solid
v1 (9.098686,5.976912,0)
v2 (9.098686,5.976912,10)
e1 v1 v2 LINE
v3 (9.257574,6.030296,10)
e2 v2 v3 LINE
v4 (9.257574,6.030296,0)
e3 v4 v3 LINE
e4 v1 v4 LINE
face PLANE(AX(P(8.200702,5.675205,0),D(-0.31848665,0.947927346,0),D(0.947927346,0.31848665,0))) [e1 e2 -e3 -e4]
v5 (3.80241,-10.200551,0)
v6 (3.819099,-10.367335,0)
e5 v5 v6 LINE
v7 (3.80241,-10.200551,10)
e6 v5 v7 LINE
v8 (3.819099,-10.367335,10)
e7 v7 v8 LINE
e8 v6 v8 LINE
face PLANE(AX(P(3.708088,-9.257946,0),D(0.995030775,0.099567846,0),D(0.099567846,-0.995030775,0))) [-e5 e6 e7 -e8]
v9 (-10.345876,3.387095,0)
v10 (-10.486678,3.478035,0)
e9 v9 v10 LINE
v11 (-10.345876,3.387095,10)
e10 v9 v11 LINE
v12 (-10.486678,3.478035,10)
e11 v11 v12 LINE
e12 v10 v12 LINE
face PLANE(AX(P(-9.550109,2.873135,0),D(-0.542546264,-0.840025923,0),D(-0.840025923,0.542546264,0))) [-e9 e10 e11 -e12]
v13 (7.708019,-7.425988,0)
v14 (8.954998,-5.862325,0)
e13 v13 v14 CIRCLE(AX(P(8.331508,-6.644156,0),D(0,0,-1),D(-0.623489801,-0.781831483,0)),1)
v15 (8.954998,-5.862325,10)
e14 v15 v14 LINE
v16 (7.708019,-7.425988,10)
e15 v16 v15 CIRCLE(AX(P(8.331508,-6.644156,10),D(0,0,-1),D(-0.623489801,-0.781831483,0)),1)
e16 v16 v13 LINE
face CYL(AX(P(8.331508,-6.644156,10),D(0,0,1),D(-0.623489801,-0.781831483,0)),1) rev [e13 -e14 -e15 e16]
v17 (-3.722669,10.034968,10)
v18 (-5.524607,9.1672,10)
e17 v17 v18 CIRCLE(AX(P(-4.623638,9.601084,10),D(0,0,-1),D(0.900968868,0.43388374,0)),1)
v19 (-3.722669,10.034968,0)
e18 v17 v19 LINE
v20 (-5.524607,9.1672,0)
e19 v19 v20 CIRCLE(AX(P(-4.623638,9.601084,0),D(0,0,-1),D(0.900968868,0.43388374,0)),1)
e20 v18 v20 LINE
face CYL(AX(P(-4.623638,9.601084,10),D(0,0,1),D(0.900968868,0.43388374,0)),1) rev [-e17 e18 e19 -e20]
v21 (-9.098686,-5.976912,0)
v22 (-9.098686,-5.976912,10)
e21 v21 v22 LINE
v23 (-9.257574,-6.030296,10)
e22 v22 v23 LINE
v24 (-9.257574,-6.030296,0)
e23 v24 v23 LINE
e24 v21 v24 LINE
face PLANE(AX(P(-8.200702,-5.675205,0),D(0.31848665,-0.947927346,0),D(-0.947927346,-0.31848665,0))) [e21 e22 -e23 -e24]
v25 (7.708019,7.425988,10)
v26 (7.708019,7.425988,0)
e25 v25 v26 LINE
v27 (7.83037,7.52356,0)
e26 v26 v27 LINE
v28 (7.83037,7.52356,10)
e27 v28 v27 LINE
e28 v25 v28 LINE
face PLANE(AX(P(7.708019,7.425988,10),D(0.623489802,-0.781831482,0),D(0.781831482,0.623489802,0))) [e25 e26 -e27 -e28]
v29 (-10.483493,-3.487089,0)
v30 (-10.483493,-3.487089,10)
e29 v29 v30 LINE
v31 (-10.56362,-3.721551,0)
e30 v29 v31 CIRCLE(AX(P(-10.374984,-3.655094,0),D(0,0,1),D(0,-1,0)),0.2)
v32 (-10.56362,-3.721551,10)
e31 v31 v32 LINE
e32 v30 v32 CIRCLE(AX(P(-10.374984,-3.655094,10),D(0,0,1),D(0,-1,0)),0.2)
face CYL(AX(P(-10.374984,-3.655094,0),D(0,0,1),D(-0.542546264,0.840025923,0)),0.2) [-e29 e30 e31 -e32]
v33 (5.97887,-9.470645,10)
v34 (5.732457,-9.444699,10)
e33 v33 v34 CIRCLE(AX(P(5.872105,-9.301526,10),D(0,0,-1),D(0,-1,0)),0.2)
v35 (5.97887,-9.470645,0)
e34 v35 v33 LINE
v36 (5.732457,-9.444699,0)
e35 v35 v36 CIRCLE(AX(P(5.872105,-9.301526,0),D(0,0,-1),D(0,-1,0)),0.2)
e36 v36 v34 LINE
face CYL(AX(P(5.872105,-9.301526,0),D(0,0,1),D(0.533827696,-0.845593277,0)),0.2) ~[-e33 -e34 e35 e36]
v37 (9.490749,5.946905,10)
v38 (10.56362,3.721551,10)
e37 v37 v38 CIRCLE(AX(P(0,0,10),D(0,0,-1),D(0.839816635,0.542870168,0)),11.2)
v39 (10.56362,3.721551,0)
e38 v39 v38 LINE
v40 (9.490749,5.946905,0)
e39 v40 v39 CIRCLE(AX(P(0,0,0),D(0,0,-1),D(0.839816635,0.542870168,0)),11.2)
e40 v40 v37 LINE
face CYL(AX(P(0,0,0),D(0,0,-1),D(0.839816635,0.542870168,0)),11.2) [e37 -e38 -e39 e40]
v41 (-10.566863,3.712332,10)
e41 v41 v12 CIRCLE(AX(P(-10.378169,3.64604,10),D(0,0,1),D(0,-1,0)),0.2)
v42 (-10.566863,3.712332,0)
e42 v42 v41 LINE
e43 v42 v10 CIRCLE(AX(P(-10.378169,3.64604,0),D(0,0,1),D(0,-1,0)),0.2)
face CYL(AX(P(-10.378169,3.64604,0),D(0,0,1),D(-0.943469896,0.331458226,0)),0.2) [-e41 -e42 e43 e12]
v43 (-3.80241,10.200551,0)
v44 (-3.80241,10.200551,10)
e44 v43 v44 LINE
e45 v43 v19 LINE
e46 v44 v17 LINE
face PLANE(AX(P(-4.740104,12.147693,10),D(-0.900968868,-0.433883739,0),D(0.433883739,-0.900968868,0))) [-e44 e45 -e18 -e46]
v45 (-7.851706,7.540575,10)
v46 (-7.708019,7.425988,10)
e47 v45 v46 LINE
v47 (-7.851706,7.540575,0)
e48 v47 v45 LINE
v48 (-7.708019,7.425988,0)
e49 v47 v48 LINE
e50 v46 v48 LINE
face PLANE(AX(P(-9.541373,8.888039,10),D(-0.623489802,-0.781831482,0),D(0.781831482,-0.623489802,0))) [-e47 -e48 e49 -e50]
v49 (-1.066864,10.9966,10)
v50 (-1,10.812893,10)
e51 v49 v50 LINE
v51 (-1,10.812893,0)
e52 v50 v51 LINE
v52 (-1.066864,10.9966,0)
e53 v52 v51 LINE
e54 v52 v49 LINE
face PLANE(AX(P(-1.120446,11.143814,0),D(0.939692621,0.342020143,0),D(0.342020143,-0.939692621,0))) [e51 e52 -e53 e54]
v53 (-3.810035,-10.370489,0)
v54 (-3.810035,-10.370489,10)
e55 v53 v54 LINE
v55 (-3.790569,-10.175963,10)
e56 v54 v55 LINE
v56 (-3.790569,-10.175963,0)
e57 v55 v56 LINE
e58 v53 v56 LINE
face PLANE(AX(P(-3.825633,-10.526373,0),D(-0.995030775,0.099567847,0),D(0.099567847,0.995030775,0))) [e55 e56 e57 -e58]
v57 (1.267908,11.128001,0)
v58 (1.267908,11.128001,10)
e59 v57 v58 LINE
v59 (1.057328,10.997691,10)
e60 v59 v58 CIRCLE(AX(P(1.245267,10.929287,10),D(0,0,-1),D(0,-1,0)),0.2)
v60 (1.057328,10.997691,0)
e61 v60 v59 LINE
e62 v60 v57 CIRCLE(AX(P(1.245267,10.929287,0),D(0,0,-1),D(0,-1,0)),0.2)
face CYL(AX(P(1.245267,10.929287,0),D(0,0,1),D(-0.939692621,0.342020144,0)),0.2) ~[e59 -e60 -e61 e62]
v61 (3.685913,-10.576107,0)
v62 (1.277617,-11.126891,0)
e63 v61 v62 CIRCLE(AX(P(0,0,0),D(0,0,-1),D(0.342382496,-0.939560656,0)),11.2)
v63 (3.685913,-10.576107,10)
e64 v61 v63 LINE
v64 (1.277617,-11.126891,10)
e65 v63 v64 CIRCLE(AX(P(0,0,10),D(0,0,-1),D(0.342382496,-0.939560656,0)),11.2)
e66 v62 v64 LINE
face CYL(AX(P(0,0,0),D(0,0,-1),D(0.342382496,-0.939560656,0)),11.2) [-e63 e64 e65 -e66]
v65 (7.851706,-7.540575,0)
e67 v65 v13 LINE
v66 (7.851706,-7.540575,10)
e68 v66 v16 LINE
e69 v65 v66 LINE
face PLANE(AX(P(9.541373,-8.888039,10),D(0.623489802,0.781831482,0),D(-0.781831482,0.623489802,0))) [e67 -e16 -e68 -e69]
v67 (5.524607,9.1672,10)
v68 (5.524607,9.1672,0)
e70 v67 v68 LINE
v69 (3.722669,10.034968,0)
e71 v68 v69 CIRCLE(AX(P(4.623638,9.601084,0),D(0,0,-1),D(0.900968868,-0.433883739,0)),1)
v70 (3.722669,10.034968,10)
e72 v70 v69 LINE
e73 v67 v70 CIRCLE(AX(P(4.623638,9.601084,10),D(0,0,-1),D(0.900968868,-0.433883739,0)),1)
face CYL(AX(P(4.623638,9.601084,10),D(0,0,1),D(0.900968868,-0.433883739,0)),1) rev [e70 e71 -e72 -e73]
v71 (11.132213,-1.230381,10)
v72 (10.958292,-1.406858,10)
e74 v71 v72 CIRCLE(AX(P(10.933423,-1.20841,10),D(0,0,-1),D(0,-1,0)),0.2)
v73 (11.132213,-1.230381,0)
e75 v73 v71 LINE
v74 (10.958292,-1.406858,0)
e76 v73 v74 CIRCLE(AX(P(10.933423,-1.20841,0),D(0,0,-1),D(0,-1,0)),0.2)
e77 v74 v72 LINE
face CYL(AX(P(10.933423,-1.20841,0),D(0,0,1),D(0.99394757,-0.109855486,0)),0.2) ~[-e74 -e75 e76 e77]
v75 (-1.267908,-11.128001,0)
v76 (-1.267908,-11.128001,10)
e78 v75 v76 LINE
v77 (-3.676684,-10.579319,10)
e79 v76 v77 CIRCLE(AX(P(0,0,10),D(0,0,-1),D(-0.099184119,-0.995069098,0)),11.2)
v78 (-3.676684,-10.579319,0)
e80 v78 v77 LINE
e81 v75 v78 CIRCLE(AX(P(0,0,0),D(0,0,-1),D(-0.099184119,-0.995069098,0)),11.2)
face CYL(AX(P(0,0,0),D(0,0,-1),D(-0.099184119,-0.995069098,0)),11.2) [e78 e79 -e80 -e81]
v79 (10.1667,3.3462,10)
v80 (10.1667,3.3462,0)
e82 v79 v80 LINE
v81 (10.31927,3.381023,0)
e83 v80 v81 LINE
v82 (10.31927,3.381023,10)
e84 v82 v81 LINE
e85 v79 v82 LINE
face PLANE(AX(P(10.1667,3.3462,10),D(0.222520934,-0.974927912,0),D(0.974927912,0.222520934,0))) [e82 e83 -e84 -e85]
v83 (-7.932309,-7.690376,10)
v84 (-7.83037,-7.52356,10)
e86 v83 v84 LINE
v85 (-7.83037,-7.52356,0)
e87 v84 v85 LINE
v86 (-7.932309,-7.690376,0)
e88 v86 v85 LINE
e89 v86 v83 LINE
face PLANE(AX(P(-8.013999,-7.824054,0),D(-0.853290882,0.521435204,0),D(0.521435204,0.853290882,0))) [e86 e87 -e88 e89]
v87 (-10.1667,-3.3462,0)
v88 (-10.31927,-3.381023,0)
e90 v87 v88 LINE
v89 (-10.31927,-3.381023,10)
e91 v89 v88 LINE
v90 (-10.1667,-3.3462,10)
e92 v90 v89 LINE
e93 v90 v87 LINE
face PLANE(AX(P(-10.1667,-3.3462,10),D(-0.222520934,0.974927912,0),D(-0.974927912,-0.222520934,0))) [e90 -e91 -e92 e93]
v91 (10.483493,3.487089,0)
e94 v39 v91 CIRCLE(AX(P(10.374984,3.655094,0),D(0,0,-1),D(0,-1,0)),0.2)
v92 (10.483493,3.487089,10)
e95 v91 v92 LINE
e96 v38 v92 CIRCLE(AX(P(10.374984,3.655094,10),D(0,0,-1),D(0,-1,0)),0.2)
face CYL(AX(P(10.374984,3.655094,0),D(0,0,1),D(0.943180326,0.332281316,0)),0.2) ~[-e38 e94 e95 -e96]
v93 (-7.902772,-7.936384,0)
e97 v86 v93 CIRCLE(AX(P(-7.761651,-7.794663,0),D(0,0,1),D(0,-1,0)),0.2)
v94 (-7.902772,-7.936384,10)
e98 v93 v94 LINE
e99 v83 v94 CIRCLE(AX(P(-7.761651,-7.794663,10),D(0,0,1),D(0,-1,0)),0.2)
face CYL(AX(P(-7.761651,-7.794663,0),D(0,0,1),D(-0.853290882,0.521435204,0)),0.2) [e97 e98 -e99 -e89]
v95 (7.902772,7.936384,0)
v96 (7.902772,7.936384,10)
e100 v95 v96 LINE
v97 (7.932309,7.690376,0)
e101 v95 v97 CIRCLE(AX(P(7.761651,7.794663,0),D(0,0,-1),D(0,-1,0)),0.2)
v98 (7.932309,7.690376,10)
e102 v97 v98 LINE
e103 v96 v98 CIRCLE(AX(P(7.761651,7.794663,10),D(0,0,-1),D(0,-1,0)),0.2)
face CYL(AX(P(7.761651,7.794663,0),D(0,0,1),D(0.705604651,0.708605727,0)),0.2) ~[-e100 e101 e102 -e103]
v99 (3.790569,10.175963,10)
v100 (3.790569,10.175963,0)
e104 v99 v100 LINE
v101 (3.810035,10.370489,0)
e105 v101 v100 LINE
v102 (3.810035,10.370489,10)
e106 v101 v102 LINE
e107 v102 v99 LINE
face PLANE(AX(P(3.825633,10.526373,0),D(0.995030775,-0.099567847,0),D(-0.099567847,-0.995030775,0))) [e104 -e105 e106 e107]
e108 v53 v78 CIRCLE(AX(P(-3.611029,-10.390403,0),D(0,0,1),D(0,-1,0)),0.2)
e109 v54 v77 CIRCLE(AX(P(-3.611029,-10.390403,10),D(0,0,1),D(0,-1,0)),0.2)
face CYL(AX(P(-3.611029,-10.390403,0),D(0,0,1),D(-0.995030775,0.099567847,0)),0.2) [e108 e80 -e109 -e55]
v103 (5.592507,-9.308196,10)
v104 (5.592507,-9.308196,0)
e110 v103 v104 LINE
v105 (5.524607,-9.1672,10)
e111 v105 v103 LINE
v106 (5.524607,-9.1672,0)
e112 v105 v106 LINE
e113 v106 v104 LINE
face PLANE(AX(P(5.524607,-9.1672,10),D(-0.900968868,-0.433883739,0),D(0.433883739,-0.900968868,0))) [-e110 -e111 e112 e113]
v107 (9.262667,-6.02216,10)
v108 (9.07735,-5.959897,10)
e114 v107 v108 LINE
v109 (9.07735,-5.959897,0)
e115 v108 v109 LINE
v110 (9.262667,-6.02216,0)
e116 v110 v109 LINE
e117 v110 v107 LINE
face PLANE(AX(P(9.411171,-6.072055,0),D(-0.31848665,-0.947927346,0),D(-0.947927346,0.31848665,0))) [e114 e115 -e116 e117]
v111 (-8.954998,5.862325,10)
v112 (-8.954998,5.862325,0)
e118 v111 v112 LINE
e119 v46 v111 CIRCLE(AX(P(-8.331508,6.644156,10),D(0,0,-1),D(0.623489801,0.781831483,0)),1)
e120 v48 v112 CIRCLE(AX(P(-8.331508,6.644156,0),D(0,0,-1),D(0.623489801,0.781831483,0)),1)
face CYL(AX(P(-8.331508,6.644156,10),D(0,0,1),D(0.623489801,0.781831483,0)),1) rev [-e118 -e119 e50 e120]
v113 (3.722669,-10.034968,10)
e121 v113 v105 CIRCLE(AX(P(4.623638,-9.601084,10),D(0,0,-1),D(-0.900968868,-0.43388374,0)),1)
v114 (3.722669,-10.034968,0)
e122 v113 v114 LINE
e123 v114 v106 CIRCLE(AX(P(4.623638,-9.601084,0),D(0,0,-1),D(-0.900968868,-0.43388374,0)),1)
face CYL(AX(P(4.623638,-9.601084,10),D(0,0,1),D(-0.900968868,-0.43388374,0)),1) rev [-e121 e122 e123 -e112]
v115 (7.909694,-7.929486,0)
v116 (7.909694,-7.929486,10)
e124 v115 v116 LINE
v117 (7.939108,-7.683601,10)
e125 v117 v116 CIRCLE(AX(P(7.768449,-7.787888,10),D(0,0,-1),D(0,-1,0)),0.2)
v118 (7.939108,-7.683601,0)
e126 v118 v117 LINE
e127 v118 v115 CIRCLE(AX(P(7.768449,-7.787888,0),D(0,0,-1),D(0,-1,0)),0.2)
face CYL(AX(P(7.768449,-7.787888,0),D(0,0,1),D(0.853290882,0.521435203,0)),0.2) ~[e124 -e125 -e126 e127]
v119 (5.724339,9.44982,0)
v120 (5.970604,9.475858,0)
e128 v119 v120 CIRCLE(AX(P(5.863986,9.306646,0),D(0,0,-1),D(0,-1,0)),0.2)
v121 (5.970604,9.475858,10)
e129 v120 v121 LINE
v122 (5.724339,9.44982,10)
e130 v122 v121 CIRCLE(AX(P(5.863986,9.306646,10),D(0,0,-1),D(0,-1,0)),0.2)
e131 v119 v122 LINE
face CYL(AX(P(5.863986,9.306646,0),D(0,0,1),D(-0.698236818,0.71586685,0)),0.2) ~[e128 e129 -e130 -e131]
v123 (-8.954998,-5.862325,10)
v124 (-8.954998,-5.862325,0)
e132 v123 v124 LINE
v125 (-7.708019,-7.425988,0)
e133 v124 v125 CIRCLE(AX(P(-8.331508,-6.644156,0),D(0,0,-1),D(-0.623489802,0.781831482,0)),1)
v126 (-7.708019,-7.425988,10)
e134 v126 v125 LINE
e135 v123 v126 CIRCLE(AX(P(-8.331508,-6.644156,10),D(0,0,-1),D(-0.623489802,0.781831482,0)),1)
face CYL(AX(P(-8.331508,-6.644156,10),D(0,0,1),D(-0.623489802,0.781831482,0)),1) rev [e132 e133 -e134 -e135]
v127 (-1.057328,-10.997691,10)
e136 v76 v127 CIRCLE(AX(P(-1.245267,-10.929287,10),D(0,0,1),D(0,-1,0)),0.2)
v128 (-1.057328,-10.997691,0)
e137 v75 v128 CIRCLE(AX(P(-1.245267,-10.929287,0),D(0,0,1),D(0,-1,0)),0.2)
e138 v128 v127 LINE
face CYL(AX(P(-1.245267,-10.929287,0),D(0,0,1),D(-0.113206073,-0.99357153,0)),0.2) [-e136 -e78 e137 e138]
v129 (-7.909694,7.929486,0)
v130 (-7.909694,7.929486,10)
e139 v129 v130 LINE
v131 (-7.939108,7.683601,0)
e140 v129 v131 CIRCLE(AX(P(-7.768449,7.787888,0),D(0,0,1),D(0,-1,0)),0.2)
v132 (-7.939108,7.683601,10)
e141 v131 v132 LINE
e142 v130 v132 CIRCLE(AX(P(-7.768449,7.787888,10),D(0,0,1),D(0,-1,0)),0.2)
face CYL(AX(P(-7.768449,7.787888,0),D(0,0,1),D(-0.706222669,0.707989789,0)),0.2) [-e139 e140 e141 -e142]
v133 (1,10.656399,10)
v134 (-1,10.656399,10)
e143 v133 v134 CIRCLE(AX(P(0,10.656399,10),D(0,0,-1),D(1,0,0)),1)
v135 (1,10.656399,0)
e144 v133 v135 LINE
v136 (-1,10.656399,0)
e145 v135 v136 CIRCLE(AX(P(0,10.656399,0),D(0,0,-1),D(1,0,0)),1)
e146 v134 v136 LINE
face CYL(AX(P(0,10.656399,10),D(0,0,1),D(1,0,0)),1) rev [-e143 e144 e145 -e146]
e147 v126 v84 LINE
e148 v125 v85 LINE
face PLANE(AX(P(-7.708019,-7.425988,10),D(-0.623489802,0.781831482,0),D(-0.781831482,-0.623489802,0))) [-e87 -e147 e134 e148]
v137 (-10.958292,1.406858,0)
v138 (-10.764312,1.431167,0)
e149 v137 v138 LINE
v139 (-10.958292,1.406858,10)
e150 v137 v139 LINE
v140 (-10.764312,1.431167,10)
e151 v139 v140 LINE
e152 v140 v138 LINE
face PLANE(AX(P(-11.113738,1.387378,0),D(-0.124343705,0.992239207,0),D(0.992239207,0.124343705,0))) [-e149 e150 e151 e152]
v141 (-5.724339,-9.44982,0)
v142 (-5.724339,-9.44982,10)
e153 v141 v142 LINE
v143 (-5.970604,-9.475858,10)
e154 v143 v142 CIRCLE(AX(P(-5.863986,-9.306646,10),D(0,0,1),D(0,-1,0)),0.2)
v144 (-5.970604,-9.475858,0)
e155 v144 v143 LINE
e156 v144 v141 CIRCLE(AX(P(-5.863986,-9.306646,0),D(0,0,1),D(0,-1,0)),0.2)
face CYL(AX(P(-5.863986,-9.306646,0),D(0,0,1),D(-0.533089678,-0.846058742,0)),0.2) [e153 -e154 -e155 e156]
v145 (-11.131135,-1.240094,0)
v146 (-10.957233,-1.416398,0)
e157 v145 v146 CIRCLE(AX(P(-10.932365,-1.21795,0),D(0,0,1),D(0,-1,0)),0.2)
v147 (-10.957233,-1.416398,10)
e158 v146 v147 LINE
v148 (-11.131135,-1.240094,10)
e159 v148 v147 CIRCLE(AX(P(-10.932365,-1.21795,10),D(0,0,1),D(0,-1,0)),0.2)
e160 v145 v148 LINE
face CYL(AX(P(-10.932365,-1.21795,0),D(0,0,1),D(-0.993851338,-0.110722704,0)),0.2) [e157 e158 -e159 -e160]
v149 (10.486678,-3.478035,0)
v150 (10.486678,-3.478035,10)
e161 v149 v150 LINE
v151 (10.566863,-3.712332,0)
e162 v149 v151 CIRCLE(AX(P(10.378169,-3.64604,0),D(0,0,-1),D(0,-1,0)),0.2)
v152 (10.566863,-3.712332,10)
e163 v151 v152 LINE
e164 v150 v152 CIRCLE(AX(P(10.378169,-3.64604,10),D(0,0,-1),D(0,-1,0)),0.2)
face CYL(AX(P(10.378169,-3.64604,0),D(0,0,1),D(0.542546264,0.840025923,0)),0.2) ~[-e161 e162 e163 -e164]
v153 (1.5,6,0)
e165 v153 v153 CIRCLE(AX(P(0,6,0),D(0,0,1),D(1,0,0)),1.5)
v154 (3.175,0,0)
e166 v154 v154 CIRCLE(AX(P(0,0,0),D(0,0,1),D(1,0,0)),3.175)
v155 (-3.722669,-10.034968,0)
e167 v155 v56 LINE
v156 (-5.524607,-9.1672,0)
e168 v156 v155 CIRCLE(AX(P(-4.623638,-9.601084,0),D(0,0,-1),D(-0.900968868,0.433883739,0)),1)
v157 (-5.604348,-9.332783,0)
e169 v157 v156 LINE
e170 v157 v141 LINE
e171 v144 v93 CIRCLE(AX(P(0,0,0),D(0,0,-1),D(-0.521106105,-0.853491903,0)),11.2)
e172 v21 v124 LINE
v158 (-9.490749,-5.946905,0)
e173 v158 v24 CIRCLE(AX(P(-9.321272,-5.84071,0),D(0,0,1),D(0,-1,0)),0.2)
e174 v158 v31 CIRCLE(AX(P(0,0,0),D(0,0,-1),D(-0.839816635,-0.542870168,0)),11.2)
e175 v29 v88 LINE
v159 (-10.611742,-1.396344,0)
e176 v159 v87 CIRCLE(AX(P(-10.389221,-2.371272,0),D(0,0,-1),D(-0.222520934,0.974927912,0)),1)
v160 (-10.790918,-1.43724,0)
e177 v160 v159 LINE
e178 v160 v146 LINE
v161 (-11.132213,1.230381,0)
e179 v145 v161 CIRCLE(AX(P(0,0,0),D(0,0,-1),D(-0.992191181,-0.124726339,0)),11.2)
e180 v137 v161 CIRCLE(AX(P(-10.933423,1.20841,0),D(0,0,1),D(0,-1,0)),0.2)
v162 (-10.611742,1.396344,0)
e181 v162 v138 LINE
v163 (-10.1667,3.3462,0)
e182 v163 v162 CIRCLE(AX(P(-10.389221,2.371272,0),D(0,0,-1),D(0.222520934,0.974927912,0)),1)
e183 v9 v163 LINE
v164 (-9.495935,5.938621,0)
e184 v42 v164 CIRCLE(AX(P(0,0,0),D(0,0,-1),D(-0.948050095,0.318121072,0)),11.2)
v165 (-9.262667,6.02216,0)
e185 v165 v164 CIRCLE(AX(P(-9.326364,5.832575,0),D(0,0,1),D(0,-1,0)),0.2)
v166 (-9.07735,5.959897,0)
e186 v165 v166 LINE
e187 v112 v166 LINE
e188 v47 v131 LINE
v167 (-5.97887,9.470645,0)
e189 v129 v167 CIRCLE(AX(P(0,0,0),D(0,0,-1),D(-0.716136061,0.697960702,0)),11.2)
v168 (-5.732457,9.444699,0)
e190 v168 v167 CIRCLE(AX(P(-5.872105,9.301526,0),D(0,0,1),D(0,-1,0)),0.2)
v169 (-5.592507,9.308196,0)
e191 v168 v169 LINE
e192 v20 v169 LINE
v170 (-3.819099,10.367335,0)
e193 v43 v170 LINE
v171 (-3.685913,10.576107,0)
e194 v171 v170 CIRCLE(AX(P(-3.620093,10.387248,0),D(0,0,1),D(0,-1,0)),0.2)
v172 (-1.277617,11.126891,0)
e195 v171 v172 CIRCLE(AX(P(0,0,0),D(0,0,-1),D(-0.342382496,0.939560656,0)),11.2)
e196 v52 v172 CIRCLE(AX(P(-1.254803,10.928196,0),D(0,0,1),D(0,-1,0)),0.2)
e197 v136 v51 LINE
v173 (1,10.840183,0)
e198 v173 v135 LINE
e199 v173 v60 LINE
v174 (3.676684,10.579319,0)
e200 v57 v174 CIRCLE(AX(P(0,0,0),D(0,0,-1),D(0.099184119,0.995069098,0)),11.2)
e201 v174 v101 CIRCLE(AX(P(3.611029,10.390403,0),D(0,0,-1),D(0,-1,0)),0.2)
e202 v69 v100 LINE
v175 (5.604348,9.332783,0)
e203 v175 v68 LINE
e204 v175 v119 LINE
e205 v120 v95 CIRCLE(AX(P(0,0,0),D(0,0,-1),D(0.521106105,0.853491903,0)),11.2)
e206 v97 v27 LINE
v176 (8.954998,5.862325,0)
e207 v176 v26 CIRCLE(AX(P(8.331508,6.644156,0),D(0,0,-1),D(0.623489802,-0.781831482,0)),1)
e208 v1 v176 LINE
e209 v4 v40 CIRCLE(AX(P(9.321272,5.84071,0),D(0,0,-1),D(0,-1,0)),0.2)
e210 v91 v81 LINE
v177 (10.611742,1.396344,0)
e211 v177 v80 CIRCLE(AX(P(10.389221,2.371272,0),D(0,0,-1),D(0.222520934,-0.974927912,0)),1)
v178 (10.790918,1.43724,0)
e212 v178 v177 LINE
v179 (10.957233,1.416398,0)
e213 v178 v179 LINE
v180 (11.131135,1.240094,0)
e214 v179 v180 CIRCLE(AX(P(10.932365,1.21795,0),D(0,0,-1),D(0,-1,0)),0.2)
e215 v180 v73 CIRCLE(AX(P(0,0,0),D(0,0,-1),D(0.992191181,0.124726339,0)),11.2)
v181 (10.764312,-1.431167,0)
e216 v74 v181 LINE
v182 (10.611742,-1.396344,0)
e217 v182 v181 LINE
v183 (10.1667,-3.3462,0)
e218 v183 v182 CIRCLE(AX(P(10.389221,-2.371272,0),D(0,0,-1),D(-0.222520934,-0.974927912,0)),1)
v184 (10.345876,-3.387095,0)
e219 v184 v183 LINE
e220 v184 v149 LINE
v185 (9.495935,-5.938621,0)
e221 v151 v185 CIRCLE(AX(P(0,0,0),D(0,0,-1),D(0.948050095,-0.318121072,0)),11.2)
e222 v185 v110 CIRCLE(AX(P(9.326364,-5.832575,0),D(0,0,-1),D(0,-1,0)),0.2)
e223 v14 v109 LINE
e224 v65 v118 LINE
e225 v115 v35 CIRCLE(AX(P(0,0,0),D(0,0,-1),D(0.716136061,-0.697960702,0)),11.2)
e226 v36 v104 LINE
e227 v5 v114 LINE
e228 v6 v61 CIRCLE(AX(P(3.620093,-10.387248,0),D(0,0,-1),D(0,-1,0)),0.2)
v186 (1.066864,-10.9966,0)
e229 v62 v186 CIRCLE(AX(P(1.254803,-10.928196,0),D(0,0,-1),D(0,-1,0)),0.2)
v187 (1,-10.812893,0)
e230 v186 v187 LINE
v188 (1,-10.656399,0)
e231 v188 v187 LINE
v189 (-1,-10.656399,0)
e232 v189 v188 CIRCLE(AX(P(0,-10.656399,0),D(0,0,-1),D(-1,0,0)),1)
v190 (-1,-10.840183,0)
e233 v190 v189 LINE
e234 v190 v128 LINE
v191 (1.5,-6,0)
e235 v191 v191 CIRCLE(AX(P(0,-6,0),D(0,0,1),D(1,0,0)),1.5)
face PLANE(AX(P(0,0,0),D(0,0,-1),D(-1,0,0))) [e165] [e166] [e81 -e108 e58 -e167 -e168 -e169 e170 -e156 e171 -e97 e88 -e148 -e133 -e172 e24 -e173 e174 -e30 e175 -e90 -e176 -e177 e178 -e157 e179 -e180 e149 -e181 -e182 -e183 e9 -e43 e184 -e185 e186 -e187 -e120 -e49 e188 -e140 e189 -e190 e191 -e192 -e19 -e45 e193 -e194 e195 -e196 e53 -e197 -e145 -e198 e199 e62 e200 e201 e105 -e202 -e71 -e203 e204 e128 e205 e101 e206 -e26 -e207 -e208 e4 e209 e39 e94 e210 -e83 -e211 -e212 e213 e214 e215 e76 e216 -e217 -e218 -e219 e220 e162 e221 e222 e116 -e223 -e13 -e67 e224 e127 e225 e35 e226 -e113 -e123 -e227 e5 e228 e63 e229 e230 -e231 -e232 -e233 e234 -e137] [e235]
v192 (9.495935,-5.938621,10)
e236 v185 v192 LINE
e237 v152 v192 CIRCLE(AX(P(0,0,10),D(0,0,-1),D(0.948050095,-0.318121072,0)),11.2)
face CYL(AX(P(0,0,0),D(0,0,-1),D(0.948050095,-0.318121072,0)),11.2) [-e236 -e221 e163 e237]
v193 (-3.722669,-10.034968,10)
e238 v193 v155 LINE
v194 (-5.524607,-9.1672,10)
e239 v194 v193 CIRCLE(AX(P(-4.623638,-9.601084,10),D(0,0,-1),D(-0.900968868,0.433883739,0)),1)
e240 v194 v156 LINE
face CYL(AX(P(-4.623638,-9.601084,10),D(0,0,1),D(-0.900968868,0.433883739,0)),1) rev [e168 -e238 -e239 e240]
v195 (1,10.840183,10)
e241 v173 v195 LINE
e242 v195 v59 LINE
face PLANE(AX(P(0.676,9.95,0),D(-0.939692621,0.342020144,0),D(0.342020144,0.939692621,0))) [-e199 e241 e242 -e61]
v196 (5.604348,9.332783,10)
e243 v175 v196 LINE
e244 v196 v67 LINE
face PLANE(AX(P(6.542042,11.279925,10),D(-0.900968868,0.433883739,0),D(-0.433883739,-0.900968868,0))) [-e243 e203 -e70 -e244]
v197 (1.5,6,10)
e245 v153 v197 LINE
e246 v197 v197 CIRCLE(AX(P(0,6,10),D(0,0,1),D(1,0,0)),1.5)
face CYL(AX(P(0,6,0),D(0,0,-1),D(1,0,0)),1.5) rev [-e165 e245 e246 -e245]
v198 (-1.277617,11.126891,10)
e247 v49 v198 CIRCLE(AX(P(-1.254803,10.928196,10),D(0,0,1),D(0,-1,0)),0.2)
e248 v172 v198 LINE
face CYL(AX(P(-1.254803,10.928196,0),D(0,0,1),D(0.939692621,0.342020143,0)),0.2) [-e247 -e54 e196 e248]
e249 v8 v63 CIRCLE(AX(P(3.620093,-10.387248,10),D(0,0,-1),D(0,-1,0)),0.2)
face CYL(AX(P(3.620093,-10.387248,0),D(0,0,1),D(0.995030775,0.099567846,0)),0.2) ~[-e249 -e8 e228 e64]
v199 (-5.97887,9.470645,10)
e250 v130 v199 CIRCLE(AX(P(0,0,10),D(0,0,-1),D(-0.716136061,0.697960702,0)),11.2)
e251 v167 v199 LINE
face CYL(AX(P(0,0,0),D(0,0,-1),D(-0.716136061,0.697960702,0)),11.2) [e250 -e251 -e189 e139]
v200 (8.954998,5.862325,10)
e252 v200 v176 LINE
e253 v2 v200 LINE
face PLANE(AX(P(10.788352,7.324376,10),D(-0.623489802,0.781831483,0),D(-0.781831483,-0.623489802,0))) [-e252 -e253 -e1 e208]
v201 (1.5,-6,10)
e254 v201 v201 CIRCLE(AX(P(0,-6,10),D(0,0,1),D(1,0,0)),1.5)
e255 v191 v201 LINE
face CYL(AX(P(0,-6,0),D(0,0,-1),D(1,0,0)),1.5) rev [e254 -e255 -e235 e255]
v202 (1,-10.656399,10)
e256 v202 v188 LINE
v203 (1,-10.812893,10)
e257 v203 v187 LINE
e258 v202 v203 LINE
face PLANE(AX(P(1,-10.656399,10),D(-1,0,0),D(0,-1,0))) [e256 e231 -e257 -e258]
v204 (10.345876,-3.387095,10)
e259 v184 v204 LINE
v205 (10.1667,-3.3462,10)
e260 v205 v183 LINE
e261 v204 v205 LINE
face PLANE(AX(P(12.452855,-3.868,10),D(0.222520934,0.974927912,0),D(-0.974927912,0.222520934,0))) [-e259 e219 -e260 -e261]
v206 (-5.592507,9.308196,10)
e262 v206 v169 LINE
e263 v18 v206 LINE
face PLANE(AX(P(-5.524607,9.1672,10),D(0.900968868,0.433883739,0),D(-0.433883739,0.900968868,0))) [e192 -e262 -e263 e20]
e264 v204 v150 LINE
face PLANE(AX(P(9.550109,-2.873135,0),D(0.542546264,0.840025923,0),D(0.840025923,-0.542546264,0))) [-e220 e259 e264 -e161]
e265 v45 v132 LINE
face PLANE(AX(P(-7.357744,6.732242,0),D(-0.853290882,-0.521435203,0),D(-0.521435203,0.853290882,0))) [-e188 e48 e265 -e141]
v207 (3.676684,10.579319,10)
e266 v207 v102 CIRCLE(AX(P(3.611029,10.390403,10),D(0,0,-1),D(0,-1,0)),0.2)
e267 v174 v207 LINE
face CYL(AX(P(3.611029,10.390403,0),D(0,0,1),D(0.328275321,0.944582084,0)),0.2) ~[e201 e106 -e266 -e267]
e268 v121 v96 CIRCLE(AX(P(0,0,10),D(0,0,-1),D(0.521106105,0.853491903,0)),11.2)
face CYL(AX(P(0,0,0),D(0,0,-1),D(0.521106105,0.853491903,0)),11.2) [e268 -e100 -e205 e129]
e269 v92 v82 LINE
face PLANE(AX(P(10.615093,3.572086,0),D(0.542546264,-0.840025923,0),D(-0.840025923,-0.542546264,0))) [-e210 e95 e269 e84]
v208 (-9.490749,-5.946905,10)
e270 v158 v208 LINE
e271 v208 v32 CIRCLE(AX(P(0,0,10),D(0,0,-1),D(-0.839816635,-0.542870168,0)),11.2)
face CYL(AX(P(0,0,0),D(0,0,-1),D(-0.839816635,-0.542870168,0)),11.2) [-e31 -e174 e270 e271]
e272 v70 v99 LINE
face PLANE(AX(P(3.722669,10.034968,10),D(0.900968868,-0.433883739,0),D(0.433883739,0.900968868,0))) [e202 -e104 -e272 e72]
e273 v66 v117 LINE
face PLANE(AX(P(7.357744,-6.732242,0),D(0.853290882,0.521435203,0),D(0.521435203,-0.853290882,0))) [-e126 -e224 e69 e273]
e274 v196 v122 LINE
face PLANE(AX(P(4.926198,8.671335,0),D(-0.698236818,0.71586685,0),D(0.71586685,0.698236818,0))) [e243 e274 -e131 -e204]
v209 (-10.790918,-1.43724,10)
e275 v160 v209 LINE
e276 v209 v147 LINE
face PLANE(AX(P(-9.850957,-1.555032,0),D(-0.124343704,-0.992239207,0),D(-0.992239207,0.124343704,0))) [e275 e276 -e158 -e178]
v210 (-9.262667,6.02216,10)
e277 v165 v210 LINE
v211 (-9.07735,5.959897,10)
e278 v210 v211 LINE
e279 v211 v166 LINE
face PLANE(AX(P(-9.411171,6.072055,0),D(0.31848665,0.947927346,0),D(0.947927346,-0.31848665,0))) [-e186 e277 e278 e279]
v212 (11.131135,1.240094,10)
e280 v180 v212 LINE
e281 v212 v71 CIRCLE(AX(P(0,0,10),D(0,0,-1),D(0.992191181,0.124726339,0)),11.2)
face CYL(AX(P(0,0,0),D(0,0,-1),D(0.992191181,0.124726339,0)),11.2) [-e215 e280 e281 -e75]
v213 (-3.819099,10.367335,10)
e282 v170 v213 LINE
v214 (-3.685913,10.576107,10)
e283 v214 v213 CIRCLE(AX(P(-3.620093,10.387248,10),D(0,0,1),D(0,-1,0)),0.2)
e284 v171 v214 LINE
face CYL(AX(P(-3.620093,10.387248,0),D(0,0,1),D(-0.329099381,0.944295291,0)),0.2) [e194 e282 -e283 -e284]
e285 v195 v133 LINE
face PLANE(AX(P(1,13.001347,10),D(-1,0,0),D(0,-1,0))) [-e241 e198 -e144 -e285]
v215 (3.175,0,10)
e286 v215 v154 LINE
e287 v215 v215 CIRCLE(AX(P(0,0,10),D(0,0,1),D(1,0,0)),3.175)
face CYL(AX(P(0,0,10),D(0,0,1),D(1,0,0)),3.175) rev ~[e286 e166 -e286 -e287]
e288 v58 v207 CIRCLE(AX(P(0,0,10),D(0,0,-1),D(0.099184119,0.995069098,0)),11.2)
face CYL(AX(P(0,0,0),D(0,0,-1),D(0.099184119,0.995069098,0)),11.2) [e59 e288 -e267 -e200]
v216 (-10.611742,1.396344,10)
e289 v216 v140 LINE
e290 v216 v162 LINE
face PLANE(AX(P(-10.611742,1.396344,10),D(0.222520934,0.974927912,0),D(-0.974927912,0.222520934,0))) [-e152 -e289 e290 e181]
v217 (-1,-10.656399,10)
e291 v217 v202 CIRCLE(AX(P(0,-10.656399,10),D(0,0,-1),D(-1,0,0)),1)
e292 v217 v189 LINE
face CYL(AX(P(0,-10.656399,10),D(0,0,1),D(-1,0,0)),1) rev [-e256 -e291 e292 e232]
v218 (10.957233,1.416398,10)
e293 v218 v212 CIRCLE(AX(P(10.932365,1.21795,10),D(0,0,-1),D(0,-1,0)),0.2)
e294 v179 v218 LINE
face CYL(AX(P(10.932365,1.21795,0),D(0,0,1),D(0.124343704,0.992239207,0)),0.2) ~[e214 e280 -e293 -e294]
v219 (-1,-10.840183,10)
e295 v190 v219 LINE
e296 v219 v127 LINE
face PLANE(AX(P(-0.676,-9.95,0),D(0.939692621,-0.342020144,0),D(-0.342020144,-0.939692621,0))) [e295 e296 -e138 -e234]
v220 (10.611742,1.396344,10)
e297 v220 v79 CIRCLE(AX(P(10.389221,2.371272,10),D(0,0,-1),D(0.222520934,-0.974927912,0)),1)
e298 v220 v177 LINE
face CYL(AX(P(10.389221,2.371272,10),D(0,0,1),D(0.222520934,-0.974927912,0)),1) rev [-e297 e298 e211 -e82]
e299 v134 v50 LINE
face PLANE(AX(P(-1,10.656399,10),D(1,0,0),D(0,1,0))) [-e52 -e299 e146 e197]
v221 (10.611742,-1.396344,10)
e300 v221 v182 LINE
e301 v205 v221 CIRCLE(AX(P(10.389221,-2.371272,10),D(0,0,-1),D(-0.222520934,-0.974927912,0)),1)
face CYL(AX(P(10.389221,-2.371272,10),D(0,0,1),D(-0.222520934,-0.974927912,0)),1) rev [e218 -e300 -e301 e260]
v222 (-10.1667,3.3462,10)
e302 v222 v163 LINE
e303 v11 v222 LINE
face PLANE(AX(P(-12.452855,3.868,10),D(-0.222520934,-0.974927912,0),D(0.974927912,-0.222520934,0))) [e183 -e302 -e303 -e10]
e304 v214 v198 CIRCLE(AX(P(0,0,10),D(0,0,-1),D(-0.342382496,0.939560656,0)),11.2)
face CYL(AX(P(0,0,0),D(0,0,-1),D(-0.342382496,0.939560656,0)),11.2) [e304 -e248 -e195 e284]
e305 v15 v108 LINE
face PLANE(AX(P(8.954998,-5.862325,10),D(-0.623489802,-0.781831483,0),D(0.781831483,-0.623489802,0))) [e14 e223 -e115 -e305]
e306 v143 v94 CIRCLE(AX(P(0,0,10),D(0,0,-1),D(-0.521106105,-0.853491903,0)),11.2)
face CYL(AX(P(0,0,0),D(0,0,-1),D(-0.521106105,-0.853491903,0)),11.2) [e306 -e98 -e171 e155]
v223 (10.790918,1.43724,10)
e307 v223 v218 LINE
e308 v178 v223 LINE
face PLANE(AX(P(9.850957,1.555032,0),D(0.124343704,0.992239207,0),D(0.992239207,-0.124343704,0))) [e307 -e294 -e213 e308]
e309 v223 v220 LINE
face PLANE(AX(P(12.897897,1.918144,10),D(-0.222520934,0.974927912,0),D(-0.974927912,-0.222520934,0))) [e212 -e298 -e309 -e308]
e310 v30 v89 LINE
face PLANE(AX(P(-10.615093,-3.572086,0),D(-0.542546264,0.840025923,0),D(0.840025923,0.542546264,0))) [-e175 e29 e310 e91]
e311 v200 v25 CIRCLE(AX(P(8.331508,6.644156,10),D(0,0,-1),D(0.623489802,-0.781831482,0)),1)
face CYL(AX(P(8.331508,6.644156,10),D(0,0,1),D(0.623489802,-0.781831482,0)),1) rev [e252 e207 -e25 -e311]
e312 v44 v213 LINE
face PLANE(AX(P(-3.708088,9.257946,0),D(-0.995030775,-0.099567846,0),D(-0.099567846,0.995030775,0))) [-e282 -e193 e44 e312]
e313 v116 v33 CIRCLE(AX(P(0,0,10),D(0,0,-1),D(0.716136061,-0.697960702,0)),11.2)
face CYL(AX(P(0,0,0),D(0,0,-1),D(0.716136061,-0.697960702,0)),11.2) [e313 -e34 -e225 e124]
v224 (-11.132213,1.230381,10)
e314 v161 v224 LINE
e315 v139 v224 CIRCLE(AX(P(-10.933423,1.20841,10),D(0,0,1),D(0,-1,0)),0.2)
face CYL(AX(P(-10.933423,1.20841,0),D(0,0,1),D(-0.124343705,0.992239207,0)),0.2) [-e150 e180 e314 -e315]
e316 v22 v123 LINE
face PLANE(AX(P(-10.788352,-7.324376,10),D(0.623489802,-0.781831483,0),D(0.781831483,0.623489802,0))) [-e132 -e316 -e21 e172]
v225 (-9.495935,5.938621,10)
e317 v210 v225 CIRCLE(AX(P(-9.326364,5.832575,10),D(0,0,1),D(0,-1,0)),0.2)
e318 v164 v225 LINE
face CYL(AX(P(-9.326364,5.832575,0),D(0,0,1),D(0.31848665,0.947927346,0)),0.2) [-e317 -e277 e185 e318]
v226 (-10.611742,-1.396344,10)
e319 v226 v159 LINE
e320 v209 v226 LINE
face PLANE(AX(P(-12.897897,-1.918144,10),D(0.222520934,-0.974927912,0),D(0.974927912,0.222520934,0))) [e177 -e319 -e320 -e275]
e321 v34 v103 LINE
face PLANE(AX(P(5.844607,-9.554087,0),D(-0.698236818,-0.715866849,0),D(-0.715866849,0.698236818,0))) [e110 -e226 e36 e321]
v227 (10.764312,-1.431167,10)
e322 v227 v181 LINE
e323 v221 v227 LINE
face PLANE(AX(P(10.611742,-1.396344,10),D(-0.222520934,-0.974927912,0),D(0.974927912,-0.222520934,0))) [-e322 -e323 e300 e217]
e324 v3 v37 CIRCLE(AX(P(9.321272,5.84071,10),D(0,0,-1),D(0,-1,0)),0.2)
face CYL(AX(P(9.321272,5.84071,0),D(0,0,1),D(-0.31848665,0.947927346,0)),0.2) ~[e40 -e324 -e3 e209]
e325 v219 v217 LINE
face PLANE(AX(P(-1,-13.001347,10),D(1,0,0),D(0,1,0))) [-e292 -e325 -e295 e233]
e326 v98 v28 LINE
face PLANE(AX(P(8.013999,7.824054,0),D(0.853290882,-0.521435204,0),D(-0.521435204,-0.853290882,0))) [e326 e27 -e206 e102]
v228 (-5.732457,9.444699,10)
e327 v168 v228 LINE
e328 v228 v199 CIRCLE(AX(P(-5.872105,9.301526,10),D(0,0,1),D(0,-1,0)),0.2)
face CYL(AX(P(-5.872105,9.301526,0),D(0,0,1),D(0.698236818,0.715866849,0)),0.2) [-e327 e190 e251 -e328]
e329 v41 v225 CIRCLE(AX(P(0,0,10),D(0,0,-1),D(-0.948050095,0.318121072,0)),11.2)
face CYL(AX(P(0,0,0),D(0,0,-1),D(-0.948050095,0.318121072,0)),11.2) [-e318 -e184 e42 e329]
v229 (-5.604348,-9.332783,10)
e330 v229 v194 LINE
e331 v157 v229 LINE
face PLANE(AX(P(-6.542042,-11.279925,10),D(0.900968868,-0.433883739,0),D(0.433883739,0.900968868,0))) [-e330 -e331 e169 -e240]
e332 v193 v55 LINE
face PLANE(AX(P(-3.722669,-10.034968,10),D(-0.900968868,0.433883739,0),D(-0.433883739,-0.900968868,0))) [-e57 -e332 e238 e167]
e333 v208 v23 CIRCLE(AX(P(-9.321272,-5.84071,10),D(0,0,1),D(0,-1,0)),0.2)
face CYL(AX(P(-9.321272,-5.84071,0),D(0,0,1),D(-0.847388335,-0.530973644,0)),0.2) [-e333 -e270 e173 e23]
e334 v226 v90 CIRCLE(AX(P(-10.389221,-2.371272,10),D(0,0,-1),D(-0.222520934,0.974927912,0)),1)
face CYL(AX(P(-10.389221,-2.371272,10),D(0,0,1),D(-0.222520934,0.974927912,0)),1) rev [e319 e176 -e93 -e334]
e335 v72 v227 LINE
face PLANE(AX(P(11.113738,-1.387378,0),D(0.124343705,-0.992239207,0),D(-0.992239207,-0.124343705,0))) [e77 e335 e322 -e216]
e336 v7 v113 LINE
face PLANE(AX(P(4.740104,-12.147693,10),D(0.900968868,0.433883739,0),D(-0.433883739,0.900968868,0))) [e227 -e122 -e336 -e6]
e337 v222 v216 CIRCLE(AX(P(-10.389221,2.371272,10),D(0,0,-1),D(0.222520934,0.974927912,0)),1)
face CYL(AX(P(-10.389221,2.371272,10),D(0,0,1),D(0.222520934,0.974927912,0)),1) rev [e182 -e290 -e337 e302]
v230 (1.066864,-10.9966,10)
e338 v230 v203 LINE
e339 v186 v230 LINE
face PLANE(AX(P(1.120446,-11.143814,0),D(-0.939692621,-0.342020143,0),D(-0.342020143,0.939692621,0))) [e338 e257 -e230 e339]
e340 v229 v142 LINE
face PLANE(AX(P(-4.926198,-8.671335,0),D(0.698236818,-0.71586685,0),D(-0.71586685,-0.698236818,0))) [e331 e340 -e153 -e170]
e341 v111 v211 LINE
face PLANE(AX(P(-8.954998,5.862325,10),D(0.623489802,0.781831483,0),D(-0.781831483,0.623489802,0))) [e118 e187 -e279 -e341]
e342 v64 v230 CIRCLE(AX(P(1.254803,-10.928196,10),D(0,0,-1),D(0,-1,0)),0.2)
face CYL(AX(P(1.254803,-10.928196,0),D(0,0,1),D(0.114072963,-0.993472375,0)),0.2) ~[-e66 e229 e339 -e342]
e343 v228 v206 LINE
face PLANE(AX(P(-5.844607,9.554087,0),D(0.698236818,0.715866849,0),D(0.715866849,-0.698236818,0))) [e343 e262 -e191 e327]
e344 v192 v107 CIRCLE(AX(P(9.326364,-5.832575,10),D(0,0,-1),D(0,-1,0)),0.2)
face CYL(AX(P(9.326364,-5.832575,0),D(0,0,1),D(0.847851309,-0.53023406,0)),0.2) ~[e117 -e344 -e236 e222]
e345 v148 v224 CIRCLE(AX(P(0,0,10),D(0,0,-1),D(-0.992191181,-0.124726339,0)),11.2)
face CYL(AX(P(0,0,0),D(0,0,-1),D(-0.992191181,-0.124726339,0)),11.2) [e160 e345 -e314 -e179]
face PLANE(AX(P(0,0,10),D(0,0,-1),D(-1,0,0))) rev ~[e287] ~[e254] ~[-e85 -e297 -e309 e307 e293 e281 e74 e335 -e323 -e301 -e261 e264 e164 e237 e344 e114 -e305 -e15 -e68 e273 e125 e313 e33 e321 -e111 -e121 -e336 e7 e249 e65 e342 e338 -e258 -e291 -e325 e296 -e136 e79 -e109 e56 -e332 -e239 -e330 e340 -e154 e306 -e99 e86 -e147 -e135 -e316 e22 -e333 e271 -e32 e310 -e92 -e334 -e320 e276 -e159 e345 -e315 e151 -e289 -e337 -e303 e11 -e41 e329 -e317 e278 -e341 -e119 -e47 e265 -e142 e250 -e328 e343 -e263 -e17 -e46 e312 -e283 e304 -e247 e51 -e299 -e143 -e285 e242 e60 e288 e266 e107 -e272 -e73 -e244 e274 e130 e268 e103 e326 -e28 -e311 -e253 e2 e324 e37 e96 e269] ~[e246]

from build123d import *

# Parameters (mm, degrees)
SKETCH_1_R          = 2.5
SKETCH_1_R_2        = 1.5
EXTRUDE_1_DEPTH     = 10
FILLET_1_R          = 0.2
CUT_EXTRUDE_1_DEPTH = 10
SKETCH_3_R          = 3.175
CUT_EXTRUDE_2_DEPTH = 10


with BuildPart() as part:
    # Эскиз1 → Вытянуть1 (new body)
    with BuildSketch(Plane.XY):
        with BuildLine():
            Line((-0.685932761, 9.95), (0, 9.95))
            Line((0, 9.95), (0.676, 9.95))
            Line((0.676, 9.95), (1.110862137, 11.144773901))
            ThreePointArc((1.110862137, 11.144773901), (2.487539236, 10.920263209), (3.825633205, 10.526373097))
            Line((3.825633205, 10.526373097), (3.699139141, 9.262255307))
            Line((3.699139141, 9.262255307), (4.317143204, 8.964640236))
            Line((4.317143204, 8.964640236), (4.926198159, 8.671334828))
            Line((4.926198159, 8.671334828), (5.836388374, 9.559109307))
            ThreePointArc((5.836388374, 9.559109307), (6.979320043, 8.759514355), (8.013998536, 7.824054413))
            Line((8.013998536, 7.824054413), (7.351551169, 6.740007356))
            Line((7.351551169, 6.740007356), (7.779223251, 6.203723528))
            Line((7.779223251, 6.203723528), (8.200702357, 5.675205446))
            Line((8.200702357, 5.675205446), (9.405946315, 6.08014588))
            ThreePointArc((9.405946315, 6.08014588), (10.088760919, 4.863836255), (10.615093172, 3.572085797))
            Line((10.615093172, 3.572085797), (9.547898328, 2.882818288))
            Line((9.547898328, 2.882818288), (9.700532726, 2.214083293))
            Line((9.700532726, 2.214083293), (9.850956878, 1.555032024))
            Line((9.850956878, 1.555032024), (11.112541232, 1.396934994))
            ThreePointArc((11.112541232, 1.396934994), (11.199998965, 0.004815734), (11.11373842, -1.38737822))
            Line((11.11373842, -1.38737822), (9.853167125, -1.545348298))
            Line((9.853167125, -1.545348298), (9.700532726, -2.214083293))
            Line((9.700532726, -2.214083293), (9.550108575, -2.873134562))
            Line((9.550108575, -2.873134562), (10.618161071, -3.562956001))
            ThreePointArc((10.618161071, -3.562956001), (10.092939856, -4.855158602), (9.411171473, -6.072054966))
            Line((9.411171473, -6.072054966), (8.206895332, -5.667439701))
            Line((8.206895332, -5.667439701), (7.779223251, -6.203723528))
            Line((7.779223251, -6.203723528), (7.357744145, -6.732241611))
            Line((7.357744145, -6.732241611), (8.020723888, -7.817159863))
            ThreePointArc((8.020723888, -7.817159863), (6.986850228, -8.753509233), (5.844606595, -9.554086756))
            Line((5.844606595, -9.554086756), (4.935147268, -8.667025164))
            Line((4.935147268, -8.667025164), (4.317143204, -8.964640236))
            Line((4.317143204, -8.964640236), (3.70808825, -9.257945643))
            Line((3.70808825, -9.257945643), (3.83468397, -10.523079343))
            ThreePointArc((3.83468397, -10.523079343), (2.496929223, -10.918120005), (1.120445701, -11.143814492))
            Line((1.120445701, -11.143814492), (0.685932761, -9.95))
            Line((0.685932761, -9.95), (0, -9.95))
            Line((0, -9.95), (-0.676, -9.95))
            Line((-0.676, -9.95), (-1.110862137, -11.144773901))
            ThreePointArc((-1.110862137, -11.144773901), (-2.487539236, -10.920263209), (-3.825633205, -10.526373097))
            Line((-3.825633205, -10.526373097), (-3.699139141, -9.262255307))
            Line((-3.699139141, -9.262255307), (-4.317143204, -8.964640236))
            Line((-4.317143204, -8.964640236), (-4.926198159, -8.671334828))
            Line((-4.926198159, -8.671334828), (-5.836388374, -9.559109307))
            ThreePointArc((-5.836388374, -9.559109307), (-6.979320043, -8.759514355), (-8.013998536, -7.824054413))
            Line((-8.013998536, -7.824054413), (-7.351551169, -6.740007356))
            Line((-7.351551169, -6.740007356), (-7.779223251, -6.203723528))
            Line((-7.779223251, -6.203723528), (-8.200702357, -5.675205446))
            Line((-8.200702357, -5.675205446), (-9.405946315, -6.08014588))
            ThreePointArc((-9.405946315, -6.08014588), (-10.088760919, -4.863836255), (-10.615093172, -3.572085797))
            Line((-10.615093172, -3.572085797), (-9.547898328, -2.882818288))
            Line((-9.547898328, -2.882818288), (-9.700532726, -2.214083293))
            Line((-9.700532726, -2.214083293), (-9.850956878, -1.555032024))
            Line((-9.850956878, -1.555032024), (-11.112541232, -1.396934994))
            ThreePointArc((-11.112541232, -1.396934994), (-11.199998965, -0.004815734), (-11.11373842, 1.38737822))
            Line((-11.11373842, 1.38737822), (-9.853167125, 1.545348298))
            Line((-9.853167125, 1.545348298), (-9.700532726, 2.214083293))
            Line((-9.700532726, 2.214083293), (-9.550108575, 2.873134562))
            Line((-9.550108575, 2.873134562), (-10.618161071, 3.562956001))
            ThreePointArc((-10.618161071, 3.562956001), (-10.092939856, 4.855158602), (-9.411171473, 6.072054966))
            Line((-9.411171473, 6.072054966), (-8.206895332, 5.667439701))
            Line((-8.206895332, 5.667439701), (-7.779223251, 6.203723528))
            Line((-7.779223251, 6.203723528), (-7.357744145, 6.732241611))
            Line((-7.357744145, 6.732241611), (-8.020723888, 7.817159863))
            ThreePointArc((-8.020723888, 7.817159863), (-6.986850228, 8.753509233), (-5.844606595, 9.554086756))
            Line((-5.844606595, 9.554086756), (-4.935147268, 8.667025164))
            Line((-4.935147268, 8.667025164), (-4.317143204, 8.964640236))
            Line((-4.317143204, 8.964640236), (-3.70808825, 9.257945643))
            Line((-3.70808825, 9.257945643), (-3.83468397, 10.523079343))
            ThreePointArc((-3.83468397, 10.523079343), (-2.496929223, 10.918120005), (-1.120445701, 11.143814492))
            Line((-1.120445701, 11.143814492), (-0.685932761, 9.95))
        make_face()
        Circle(SKETCH_1_R, mode=Mode.SUBTRACT)
        with Locations((0, 6)):
            Circle(SKETCH_1_R_2, mode=Mode.SUBTRACT)
        with Locations((0, -6)):
            Circle(SKETCH_1_R_2, mode=Mode.SUBTRACT)
    extrude(amount=EXTRUDE_1_DEPTH)

    # Скругление1
    fillet_1_edges = [part.edges().sort_by_distance(p)[0] for p in [
        (9.547898328, 2.882818288, 5),
        (9.850956878, 1.555032024, 5),
        (11.112541232, 1.396934994, 5),
        (11.11373842, -1.38737822, 5),
        (9.853167125, -1.545348298, 5),
        (9.550108575, -2.873134562, 5),
        (10.618161071, -3.562956001, 5),
        (9.411171473, -6.072054966, 5),
        (8.206895332, -5.667439701, 5),
        (7.357744145, -6.732241611, 5),
        (8.020723888, -7.817159863, 5),
        (5.844606595, -9.554086756, 5),
        (4.935147268, -8.667025164, 5),
        (3.70808825, -9.257945643, 5),
        (3.83468397, -10.523079343, 5),
        (1.120445701, -11.143814492, 5),
        (0.685932761, -9.95, 5),
        (-0.676, -9.95, 5),
        (-1.110862137, -11.144773901, 5),
        (-3.825633205, -10.526373097, 5),
        (-3.699139141, -9.262255307, 5),
        (-4.926198159, -8.671334828, 5),
        (-5.836388374, -9.559109307, 5),
        (-8.013998536, -7.824054413, 5),
        (-7.351551169, -6.740007356, 5),
        (-8.200702357, -5.675205446, 5),
        (-9.405946315, -6.08014588, 5),
        (-10.615093172, -3.572085797, 5),
        (-9.547898328, -2.882818288, 5),
        (-9.850956878, -1.555032024, 5),
        (-11.112541232, -1.396934994, 5),
        (-11.11373842, 1.38737822, 5),
        (-9.853167125, 1.545348298, 5),
        (-10.618161071, 3.562956001, 5),
        (-9.411171473, 6.072054966, 5),
        (-8.206895332, 5.667439701, 5),
        (-7.357744145, 6.732241611, 5),
        (-8.020723888, 7.817159863, 5),
        (-5.844606595, 9.554086756, 5),
        (-4.935147268, 8.667025164, 5),
        (-3.70808825, 9.257945643, 5),
        (-3.83468397, 10.523079343, 5),
        (-1.120445701, 11.143814492, 5),
        (-0.685932761, 9.95, 5),
        (0.676, 9.95, 5),
        (1.110862137, 11.144773901, 5),
        (3.825633205, 10.526373097, 5),
        (3.699139141, 9.262255307, 5),
        (4.926198159, 8.671334828, 5),
        (5.836388374, 9.559109307, 5),
        (8.013998536, 7.824054413, 5),
        (7.351551169, 6.740007356, 5),
        (8.200702357, 5.675205446, 5),
        (9.405946315, 6.08014588, 5),
        (10.615093172, 3.572085797, 5),
    ]]
    fillet(fillet_1_edges, radius=FILLET_1_R)

    # Эскиз2 → Вырез-Вытянуть1 (cut)
    with BuildSketch(Plane.XY.offset(10)):
        with BuildLine():
            Line((4.740104239, 12.147692744), (6.542041974, 11.279925266))
            Line((6.542041974, 11.279925266), (5.524607217, 9.167200224))
            ThreePointArc((5.524607217, 9.167200224), (4.18975461, 8.700115095), (3.722669482, 10.034967702))
            Line((3.722669482, 10.034967702), (4.740104239, 12.147692744))
        make_face()
        with BuildLine():
            Line((-1, 13.00134713), (1, 13.00134713))
            Line((1, 13.00134713), (1, 10.656399244))
            ThreePointArc((1, 10.656399244), (0, 9.656399244), (-1, 10.656399244))
            Line((-1, 10.656399244), (-1, 13.00134713))
        make_face()
        with BuildLine():
            Line((9.541372699, 8.888038829), (10.788352303, 7.324375864))
            Line((10.788352303, 7.324375864), (8.95499822, 5.862324771))
            ThreePointArc((8.95499822, 5.862324771), (7.549676936, 6.020666451), (7.708018617, 7.425987736))
            Line((7.708018617, 7.425987736), (9.541372699, 8.888038829))
        make_face()
        with BuildLine():
            Line((12.45285528, 3.867999818), (12.897897147, 1.918143994))
            Line((12.897897147, 1.918143994), (10.611742, 1.396344))
            ThreePointArc((10.611742, 1.396344), (9.414293154, 2.148750978), (10.166700132, 3.346199825))
            Line((10.166700132, 3.346199825), (12.45285528, 3.867999818))
        make_face()
        with BuildLine():
            Line((12.897897147, -1.918143994), (12.45285528, -3.867999818))
            Line((12.45285528, -3.867999818), (10.166700132, -3.346199825))
            ThreePointArc((10.166700132, -3.346199825), (9.414293154, -2.148750978), (10.611742, -1.396344))
            Line((10.611742, -1.396344), (12.897897147, -1.918143994))
        make_face()
        with BuildLine():
            Line((10.788352303, -7.324375864), (9.541372699, -8.888038829))
            Line((9.541372699, -8.888038829), (7.708018617, -7.425987736))
            ThreePointArc((7.708018617, -7.425987736), (7.549676936, -6.020666451), (8.95499822, -5.862324771))
            Line((8.95499822, -5.862324771), (10.788352303, -7.324375864))
        make_face()
        with BuildLine():
            Line((6.542041974, -11.279925266), (4.740104239, -12.147692744))
            Line((4.740104239, -12.147692744), (3.722669482, -10.034967702))
            ThreePointArc((3.722669482, -10.034967702), (4.18975461, -8.700115095), (5.524607217, -9.167200224))
            Line((5.524607217, -9.167200224), (6.542041974, -11.279925266))
        make_face()
        with BuildLine():
            Line((1, -13.00134713), (-1, -13.00134713))
            Line((-1, -13.00134713), (-1, -10.656399244))
            ThreePointArc((-1, -10.656399244), (0, -9.656399244), (1, -10.656399244))
            Line((1, -10.656399244), (1, -13.00134713))
        make_face()
        with BuildLine():
            Line((-4.740104239, -12.147692744), (-6.542041974, -11.279925266))
            Line((-6.542041974, -11.279925266), (-5.524607217, -9.167200224))
            ThreePointArc((-5.524607217, -9.167200224), (-4.18975461, -8.700115095), (-3.722669482, -10.034967702))
            Line((-3.722669482, -10.034967702), (-4.740104239, -12.147692744))
        make_face()
        with BuildLine():
            Line((-9.541372699, -8.888038829), (-10.788352303, -7.324375864))
            Line((-10.788352303, -7.324375864), (-8.95499822, -5.862324771))
            ThreePointArc((-8.95499822, -5.862324771), (-7.549676936, -6.020666451), (-7.708018617, -7.425987736))
            Line((-7.708018617, -7.425987736), (-9.541372699, -8.888038829))
        make_face()
        with BuildLine():
            Line((-12.452855279, -3.867999818), (-12.897897147, -1.918143994))
            Line((-12.897897147, -1.918143994), (-10.611742, -1.396344))
            ThreePointArc((-10.611742, -1.396344), (-9.414293154, -2.148750978), (-10.166700132, -3.346199825))
            Line((-10.166700132, -3.346199825), (-12.452855279, -3.867999818))
        make_face()
        with BuildLine():
            Line((-12.897897147, 1.918143994), (-12.45285528, 3.867999818))
            Line((-12.45285528, 3.867999818), (-10.166700132, 3.346199825))
            ThreePointArc((-10.166700132, 3.346199825), (-9.414293154, 2.148750978), (-10.611742, 1.396344))
            Line((-10.611742, 1.396344), (-12.897897147, 1.918143994))
        make_face()
        with BuildLine():
            Line((-10.788352303, 7.324375864), (-9.541372699, 8.888038829))
            Line((-9.541372699, 8.888038829), (-7.708018617, 7.425987736))
            ThreePointArc((-7.708018617, 7.425987736), (-7.549676936, 6.020666451), (-8.95499822, 5.862324771))
            Line((-8.95499822, 5.862324771), (-10.788352303, 7.324375864))
        make_face()
        with BuildLine():
            Line((-6.542041974, 11.279925266), (-4.740104239, 12.147692744))
            Line((-4.740104239, 12.147692744), (-3.722669482, 10.034967702))
            ThreePointArc((-3.722669482, 10.034967702), (-4.18975461, 8.700115095), (-5.524607217, 9.167200224))
            Line((-5.524607217, 9.167200224), (-6.542041974, 11.279925266))
        make_face()
    extrude(amount=-CUT_EXTRUDE_1_DEPTH, mode=Mode.SUBTRACT)

    # Эскиз3 → Вырез-Вытянуть2 (cut)
    with BuildSketch(Plane.XY.offset(10)):
        Circle(SKETCH_3_R)
    extrude(amount=-CUT_EXTRUDE_2_DEPTH, mode=Mode.SUBTRACT)


solid = part.part
